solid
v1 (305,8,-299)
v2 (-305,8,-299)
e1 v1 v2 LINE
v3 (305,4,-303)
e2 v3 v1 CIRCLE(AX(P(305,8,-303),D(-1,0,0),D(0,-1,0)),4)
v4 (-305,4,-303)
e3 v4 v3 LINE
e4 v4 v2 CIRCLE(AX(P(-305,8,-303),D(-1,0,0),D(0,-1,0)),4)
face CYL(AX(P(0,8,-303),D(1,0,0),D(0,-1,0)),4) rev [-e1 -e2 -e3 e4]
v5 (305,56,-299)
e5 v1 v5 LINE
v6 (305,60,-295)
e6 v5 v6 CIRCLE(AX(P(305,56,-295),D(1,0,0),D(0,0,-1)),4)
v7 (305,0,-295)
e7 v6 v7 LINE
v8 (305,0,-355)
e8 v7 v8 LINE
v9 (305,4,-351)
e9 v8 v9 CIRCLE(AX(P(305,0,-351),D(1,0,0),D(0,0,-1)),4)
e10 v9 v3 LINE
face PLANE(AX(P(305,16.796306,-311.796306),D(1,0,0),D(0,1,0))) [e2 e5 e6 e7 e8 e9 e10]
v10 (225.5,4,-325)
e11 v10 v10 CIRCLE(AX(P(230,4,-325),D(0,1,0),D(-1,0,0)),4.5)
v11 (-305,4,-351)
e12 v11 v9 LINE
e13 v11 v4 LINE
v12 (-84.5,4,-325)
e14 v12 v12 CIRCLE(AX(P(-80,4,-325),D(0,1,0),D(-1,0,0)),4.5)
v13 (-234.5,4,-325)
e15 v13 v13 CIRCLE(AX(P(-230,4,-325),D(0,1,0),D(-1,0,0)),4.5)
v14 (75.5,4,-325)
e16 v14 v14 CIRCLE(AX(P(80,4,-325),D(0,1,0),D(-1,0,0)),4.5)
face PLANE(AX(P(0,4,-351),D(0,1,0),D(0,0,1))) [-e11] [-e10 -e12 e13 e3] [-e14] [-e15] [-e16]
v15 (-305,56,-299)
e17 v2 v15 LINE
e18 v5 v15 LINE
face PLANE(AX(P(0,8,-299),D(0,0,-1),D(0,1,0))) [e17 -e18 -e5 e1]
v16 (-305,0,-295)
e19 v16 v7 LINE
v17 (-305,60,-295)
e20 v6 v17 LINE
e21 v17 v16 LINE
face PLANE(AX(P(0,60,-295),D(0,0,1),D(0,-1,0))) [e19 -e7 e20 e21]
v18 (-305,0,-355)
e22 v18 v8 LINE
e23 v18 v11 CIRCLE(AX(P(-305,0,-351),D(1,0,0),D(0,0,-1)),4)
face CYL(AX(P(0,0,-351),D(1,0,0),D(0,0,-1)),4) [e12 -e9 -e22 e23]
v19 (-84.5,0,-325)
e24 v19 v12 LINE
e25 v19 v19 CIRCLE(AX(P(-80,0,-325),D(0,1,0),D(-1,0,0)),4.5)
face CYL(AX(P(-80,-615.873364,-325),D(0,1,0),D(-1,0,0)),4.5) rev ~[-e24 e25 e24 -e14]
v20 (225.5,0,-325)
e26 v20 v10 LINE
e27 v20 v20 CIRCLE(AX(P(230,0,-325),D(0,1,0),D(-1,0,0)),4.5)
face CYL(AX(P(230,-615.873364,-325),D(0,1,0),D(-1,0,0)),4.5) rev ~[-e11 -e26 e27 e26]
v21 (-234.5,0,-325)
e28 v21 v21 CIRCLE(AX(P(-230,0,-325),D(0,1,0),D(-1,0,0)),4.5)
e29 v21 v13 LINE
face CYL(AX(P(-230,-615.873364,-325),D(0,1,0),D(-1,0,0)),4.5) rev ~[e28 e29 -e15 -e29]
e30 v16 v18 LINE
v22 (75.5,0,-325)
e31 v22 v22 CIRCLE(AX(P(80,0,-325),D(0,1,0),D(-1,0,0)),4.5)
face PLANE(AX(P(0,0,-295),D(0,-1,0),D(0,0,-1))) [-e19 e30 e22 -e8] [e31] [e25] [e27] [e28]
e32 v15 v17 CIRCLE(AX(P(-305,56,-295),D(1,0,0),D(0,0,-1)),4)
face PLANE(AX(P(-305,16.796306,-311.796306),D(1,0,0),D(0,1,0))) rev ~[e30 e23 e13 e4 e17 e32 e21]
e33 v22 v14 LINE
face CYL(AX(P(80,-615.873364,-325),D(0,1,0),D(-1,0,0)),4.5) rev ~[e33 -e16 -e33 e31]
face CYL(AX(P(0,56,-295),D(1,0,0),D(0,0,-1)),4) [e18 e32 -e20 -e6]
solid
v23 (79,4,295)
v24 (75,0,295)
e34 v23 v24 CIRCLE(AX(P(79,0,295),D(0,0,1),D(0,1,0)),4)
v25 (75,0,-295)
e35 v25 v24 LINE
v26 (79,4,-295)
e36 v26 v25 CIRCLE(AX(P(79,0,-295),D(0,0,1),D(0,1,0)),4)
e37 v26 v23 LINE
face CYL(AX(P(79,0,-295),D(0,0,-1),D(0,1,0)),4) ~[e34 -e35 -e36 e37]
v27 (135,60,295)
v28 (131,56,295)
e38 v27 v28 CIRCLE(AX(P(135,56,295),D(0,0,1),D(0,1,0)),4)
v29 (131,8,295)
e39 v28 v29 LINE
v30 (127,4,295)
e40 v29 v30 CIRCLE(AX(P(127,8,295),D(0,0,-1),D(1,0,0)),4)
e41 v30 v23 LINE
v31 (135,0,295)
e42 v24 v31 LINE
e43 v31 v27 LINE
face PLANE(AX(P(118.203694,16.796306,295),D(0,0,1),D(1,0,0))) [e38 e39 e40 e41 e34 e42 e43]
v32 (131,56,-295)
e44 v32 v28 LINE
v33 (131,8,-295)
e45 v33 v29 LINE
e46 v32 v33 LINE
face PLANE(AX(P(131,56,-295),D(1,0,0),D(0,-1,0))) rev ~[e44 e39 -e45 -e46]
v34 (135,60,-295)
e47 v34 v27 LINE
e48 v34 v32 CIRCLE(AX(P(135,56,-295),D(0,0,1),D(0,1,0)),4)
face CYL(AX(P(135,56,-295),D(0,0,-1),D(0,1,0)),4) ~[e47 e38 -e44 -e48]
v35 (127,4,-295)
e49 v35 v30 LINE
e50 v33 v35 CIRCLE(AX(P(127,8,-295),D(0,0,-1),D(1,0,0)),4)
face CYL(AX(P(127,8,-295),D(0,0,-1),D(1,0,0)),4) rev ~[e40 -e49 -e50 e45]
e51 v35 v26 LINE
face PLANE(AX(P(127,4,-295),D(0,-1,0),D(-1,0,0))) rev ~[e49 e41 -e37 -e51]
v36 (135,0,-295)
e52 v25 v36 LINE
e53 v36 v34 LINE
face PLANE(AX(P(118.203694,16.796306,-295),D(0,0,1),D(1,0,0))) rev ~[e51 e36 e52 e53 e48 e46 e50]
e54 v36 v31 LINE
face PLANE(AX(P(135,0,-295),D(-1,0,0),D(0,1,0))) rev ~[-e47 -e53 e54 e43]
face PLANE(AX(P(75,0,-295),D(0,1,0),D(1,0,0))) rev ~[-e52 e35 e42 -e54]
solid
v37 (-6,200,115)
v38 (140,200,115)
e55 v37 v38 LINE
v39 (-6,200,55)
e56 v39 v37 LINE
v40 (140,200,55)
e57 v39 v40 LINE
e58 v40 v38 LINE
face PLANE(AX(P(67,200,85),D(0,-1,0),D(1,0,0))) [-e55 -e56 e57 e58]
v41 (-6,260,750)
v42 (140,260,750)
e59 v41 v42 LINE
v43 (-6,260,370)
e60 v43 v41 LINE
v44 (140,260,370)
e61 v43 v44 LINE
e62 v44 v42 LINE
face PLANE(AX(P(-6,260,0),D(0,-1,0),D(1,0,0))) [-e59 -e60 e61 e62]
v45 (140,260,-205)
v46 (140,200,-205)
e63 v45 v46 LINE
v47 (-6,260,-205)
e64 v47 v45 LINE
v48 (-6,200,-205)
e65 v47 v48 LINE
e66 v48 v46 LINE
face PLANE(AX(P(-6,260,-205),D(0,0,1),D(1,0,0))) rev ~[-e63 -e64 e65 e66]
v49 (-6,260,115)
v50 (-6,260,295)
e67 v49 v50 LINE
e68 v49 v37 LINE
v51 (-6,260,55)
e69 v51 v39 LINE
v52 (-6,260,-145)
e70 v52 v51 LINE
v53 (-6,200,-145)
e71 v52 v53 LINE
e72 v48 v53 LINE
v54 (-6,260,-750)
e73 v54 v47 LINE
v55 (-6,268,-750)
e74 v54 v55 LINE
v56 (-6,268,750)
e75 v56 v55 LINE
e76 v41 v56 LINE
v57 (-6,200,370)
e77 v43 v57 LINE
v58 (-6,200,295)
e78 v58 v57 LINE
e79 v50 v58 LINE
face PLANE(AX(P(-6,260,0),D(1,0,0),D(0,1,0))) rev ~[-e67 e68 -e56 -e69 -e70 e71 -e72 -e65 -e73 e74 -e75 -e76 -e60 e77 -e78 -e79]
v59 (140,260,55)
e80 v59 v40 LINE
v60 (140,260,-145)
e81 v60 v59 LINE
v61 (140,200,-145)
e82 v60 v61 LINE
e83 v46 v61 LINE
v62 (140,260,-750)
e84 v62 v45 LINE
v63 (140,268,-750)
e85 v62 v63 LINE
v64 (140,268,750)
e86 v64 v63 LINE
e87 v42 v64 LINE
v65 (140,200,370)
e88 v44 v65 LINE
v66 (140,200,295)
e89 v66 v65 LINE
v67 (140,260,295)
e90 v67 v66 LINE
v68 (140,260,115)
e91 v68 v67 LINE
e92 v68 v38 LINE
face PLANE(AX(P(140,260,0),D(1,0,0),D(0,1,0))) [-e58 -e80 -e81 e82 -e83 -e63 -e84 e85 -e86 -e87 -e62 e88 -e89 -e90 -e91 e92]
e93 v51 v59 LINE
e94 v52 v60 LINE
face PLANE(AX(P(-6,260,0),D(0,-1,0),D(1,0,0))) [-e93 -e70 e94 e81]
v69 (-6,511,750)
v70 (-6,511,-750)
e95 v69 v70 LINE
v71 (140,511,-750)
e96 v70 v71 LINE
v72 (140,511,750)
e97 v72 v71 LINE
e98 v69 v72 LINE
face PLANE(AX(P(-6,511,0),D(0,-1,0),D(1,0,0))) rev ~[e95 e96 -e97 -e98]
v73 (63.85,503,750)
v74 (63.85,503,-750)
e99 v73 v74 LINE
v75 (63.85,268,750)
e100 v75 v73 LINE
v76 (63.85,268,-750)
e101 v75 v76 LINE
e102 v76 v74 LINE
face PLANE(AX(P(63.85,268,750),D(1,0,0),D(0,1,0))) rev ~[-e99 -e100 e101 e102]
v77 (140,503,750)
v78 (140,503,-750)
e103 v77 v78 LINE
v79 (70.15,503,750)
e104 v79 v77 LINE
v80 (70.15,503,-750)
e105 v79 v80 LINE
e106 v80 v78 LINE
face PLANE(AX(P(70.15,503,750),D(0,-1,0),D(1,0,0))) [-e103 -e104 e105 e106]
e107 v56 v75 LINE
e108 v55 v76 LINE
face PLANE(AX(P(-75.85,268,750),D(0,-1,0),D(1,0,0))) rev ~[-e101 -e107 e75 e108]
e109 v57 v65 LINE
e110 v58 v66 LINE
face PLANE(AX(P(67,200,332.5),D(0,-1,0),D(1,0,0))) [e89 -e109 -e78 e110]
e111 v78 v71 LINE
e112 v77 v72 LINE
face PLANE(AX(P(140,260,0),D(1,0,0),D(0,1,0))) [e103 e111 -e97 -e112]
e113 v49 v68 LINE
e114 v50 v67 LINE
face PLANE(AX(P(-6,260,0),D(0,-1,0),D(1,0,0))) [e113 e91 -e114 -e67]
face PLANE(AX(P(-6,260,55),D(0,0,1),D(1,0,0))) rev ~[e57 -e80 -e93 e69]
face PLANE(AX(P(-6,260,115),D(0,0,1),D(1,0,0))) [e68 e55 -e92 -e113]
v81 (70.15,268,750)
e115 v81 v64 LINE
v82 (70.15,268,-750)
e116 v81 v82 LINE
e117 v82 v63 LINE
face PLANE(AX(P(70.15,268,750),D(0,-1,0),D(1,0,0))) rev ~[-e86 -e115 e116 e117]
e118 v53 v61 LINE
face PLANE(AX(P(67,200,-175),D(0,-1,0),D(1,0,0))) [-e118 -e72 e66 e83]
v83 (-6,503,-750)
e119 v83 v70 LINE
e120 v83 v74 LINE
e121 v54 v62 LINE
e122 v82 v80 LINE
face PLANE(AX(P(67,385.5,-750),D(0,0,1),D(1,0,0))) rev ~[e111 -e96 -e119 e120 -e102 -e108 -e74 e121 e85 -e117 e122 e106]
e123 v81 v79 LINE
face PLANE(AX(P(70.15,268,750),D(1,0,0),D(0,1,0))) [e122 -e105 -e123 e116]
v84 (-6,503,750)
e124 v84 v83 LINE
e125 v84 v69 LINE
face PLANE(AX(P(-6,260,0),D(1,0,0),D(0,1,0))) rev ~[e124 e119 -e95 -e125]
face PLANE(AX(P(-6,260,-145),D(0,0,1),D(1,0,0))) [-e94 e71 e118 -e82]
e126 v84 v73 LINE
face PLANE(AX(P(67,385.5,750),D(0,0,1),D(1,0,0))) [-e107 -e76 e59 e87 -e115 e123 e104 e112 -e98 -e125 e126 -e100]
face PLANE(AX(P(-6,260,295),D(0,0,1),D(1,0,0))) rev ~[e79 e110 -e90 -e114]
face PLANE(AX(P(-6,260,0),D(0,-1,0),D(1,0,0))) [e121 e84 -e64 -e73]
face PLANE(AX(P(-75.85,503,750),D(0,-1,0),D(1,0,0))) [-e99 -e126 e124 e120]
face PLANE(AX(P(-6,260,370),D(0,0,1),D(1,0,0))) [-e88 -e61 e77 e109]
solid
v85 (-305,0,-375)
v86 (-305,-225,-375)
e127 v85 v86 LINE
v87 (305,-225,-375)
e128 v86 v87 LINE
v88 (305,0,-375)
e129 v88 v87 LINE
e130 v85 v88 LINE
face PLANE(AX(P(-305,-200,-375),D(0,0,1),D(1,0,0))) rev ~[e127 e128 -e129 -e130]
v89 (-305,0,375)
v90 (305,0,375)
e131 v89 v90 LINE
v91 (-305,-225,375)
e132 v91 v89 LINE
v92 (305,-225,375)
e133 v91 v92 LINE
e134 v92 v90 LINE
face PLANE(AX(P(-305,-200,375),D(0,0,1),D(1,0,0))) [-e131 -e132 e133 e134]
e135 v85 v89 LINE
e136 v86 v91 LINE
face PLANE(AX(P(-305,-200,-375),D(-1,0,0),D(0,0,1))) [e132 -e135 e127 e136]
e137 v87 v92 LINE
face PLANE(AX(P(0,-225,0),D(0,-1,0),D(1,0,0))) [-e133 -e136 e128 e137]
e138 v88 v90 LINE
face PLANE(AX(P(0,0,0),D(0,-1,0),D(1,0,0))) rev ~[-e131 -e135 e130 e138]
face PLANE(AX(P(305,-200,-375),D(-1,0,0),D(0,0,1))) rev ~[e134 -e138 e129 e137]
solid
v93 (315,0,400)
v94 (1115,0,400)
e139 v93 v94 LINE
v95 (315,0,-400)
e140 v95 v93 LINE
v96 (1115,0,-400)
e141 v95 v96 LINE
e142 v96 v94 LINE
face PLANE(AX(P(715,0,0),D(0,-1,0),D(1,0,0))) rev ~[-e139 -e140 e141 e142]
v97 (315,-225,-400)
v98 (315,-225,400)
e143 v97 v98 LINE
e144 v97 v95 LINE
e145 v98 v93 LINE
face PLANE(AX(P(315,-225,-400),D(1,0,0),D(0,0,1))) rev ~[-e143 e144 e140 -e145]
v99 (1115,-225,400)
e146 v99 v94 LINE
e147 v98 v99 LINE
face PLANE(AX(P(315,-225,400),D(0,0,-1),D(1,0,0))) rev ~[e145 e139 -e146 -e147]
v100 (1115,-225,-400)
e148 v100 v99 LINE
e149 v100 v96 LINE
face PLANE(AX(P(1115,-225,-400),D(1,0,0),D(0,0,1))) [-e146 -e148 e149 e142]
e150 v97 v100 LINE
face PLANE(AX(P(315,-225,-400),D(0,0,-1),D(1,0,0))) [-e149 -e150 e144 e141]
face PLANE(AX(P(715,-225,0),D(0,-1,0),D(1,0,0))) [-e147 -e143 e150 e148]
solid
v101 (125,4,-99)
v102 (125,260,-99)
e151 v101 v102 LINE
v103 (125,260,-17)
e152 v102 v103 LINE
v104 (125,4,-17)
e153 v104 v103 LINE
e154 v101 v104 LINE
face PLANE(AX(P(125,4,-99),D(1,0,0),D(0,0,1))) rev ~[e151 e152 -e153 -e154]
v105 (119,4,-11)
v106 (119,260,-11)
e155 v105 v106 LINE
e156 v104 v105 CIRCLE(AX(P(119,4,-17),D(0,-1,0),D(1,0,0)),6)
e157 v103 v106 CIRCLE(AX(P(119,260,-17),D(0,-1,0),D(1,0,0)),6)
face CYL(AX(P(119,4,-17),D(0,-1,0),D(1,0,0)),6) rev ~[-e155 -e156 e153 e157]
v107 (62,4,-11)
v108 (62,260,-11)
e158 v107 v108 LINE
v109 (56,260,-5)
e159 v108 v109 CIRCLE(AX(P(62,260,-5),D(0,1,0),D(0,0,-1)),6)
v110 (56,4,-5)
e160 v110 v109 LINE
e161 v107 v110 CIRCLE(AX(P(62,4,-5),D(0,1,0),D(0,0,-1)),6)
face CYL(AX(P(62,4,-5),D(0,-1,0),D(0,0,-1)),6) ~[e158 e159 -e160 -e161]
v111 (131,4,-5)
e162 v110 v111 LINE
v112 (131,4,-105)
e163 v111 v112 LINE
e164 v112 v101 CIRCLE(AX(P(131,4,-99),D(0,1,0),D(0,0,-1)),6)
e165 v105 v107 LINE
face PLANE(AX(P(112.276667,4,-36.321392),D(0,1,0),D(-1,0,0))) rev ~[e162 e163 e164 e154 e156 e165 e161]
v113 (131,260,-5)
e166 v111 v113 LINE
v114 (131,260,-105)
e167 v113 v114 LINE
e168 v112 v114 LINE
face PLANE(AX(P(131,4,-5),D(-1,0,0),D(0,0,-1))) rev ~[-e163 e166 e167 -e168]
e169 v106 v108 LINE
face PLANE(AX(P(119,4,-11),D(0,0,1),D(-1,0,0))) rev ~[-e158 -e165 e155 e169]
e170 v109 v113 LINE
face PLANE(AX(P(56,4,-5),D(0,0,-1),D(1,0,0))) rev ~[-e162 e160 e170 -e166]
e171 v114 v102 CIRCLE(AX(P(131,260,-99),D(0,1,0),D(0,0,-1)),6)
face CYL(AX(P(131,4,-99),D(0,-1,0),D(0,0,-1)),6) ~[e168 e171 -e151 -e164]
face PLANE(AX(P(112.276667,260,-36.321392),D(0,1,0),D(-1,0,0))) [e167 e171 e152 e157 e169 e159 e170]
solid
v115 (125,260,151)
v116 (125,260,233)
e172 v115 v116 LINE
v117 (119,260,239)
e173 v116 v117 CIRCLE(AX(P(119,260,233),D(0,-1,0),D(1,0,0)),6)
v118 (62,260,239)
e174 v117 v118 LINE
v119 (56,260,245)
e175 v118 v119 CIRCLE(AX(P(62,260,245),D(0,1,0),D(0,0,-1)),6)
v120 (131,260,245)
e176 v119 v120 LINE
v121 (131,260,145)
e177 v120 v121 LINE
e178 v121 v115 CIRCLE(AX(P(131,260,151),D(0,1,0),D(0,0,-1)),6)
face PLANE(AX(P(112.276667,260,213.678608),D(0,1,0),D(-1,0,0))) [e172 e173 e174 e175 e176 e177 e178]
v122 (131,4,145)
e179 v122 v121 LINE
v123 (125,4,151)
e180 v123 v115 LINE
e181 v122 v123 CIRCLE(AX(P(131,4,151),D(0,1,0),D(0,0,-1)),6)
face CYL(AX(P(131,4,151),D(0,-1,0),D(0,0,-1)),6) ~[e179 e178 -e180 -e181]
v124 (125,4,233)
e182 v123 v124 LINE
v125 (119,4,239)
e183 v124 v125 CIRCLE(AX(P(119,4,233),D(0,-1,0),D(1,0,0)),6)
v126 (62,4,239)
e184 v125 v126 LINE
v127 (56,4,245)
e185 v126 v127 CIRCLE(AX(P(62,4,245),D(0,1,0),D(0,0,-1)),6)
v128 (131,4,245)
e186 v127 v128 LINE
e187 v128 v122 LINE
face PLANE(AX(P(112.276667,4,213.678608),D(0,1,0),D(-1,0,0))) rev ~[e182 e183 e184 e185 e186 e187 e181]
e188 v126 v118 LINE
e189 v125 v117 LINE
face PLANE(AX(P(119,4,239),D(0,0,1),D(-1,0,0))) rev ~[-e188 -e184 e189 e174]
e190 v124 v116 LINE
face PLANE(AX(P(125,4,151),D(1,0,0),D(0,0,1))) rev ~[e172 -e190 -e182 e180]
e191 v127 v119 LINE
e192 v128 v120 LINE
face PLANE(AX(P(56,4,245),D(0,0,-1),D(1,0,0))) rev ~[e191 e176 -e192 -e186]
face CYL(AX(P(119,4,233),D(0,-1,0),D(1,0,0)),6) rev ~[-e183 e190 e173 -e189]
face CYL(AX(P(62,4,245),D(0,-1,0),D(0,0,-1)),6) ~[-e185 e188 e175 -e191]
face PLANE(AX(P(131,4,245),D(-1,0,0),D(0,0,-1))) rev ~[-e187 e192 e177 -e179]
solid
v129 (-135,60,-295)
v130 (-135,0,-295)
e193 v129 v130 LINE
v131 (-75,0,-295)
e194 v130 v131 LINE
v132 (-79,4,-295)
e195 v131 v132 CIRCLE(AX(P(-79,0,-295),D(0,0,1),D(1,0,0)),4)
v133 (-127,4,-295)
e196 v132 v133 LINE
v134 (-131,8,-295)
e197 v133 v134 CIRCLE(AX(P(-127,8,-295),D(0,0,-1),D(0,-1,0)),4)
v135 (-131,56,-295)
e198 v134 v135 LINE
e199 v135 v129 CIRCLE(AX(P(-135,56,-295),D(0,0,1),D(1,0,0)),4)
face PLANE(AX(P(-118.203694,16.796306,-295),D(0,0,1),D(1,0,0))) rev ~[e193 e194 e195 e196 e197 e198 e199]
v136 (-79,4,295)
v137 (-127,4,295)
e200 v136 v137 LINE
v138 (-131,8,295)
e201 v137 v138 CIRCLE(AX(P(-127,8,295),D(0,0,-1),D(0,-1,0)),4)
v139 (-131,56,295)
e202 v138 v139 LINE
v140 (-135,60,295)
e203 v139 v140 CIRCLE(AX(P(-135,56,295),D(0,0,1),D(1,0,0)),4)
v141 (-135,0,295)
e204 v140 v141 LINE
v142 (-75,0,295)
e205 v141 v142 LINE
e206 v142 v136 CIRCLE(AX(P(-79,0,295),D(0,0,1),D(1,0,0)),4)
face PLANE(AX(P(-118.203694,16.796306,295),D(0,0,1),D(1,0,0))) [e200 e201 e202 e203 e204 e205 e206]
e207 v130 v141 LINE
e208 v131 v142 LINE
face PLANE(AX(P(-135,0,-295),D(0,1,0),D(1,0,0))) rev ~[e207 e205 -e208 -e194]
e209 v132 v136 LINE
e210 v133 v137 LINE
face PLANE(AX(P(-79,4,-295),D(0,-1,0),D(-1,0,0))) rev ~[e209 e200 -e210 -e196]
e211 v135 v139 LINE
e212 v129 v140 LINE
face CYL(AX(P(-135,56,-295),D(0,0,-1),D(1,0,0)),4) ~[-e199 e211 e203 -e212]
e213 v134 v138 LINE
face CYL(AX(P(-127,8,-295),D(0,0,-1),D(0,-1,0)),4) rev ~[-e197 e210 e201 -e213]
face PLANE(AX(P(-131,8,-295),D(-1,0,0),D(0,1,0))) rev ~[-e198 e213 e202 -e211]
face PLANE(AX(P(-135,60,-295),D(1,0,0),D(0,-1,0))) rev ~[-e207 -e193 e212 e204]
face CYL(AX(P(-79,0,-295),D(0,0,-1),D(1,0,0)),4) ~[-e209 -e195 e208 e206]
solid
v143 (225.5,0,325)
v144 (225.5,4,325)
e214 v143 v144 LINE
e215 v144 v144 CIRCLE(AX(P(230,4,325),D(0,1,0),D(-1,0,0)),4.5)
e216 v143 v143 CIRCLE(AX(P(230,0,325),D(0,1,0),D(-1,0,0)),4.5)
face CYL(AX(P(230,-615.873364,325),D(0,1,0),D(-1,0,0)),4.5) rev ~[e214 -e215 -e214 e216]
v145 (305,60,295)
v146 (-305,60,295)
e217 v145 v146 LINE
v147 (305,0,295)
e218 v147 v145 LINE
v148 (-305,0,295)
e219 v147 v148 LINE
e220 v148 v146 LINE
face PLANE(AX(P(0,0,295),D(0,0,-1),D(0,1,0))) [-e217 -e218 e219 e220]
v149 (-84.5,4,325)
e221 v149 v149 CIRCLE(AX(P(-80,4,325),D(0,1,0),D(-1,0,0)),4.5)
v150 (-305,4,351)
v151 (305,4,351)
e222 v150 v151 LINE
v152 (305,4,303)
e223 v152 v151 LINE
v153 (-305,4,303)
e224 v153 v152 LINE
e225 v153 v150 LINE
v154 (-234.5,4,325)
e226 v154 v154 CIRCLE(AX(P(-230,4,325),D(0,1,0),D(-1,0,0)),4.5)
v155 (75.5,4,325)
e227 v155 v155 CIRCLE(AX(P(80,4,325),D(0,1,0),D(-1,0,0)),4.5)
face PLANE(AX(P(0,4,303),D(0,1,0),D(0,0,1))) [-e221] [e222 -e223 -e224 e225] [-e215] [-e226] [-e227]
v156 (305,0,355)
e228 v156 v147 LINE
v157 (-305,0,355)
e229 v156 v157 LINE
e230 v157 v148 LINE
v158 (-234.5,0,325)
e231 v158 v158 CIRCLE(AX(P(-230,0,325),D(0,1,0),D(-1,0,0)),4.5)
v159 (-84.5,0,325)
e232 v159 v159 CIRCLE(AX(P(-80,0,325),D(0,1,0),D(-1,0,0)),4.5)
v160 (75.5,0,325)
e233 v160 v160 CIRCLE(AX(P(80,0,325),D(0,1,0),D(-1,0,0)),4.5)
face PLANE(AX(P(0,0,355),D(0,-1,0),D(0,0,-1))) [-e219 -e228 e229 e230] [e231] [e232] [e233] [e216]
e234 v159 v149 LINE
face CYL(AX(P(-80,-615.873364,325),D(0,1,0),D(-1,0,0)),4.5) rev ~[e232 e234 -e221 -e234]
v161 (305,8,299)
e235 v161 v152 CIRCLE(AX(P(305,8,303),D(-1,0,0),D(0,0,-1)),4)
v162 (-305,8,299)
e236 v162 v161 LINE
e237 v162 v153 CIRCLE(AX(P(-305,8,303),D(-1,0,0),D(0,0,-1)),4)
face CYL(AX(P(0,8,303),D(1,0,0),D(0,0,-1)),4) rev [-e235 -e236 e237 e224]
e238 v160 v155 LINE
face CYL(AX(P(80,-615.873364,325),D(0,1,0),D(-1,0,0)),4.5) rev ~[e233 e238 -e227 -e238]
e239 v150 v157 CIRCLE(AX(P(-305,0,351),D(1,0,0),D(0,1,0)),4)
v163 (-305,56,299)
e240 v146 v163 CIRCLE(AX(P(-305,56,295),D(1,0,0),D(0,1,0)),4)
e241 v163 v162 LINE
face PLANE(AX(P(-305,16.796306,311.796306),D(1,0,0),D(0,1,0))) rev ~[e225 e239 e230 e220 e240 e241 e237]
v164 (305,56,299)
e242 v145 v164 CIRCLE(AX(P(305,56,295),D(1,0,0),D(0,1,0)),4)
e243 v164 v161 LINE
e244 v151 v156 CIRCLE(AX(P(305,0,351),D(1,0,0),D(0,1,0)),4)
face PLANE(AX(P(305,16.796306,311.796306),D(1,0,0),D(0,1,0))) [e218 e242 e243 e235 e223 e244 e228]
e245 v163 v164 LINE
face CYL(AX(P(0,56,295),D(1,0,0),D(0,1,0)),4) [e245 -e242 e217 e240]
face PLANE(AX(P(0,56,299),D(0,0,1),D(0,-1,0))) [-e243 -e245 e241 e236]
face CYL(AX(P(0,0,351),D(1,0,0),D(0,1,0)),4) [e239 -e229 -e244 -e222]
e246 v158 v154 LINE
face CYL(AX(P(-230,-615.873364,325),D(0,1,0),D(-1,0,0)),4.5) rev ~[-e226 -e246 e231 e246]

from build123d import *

# Parameters (mm, degrees)
F1_DEPTH  = 305
F3_DEPTH  = 590
F5_D      = 9
F5_2_D    = 9
F6_W      = 610
F6_H      = 750
F7_DEPTH  = 200
F8_DEPTH  = 25
F9_W      = 800
F9_H      = 800
F10_DEPTH = 225
F11_W     = 146
F11_H     = 251
F12_DEPTH = 750
F13_W     = 139.7
F13_H     = 235
F14_DEPTH = 1500.001
F15_W     = 146
F15_H     = 75
F15_H_2   = 60
F16_DEPTH = 60
F18_DEPTH = 256


with BuildPart() as f1:
    # F0 (on Right) → F1 (new body, symmetric)
    with BuildSketch(Plane.YZ):
        with BuildLine():
            Line((60, -295), (0, -295))
            Line((0, -295), (0, -355))
            ThreePointArc((0, -355), (2.8284271247, -353.8284271247), (4, -351))
            Line((4, -351), (4, -303))
            ThreePointArc((4, -303), (5.1715728753, -300.1715728753), (8, -299))
            Line((8, -299), (56, -299))
            ThreePointArc((56, -299), (58.8284271247, -297.8284271247), (60, -295))
        make_face()
    extrude(amount=F1_DEPTH, both=True)

    # F5 (through all)
    with Locations(Plane.XZ):
        with Locations((-230, 325), (-80, 325), (80, 325), (230, 325), (-80, -325), (80, -325), (-230, -325), (230, -325)):
            Hole(F5_D / 2)


with BuildPart() as f1b:
    # F0 (on Right) → F1, piece 2 (new body, symmetric)
    with BuildSketch(Plane.YZ):
        with BuildLine():
            ThreePointArc((60, 295), (58.8284271247, 297.8284271247), (56, 299))
            Line((56, 299), (8, 299))
            ThreePointArc((8, 299), (5.1715728753, 300.1715728753), (4, 303))
            Line((4, 303), (4, 351))
            ThreePointArc((4, 351), (2.8284271247, 353.8284271247), (0, 355))
            Line((0, 355), (0, 295))
            Line((0, 295), (60, 295))
        make_face()
    extrude(amount=F1_DEPTH, both=True)

    # F5#2 (through all)
    with Locations(Plane.XZ):
        with Locations((-230, 325), (-80, 325), (80, 325), (230, 325), (-80, -325), (80, -325), (-230, -325), (230, -325)):
            Hole(F5_2_D / 2)


with BuildPart() as f3:
    # F2 (on face) → F3 (new body, through all)
    with BuildSketch(Plane.XY.offset(-295)):
        with BuildLine():
            ThreePointArc((135, 60), (132.1715728753, 58.8284271247), (131, 56))
            Line((131, 56), (131, 8))
            ThreePointArc((131, 8), (129.8284271247, 5.1715728753), (127, 4))
            Line((127, 4), (79, 4))
            ThreePointArc((79, 4), (76.1715728753, 2.8284271247), (75, 0))
            Line((75, 0), (135, 0))
            Line((135, 0), (135, 60))
        make_face()
    extrude(amount=F3_DEPTH)


with BuildPart() as f3b:
    # F2 (on face) → F3, piece 2 (new body, through all)
    with BuildSketch(Plane.XY.offset(-295)):
        with BuildLine():
            Line((-135, 0), (-75, 0))
            ThreePointArc((-75, 0), (-76.1715728753, 2.8284271247), (-79, 4))
            Line((-79, 4), (-127, 4))
            ThreePointArc((-127, 4), (-129.8284271247, 5.1715728753), (-131, 8))
            Line((-131, 8), (-131, 56))
            ThreePointArc((-131, 56), (-132.1715728753, 58.8284271247), (-135, 60))
            Line((-135, 60), (-135, 0))
        make_face()
    extrude(amount=F3_DEPTH)


with BuildPart() as f7:
    # F6 (on face) → F7 (new body)
    with BuildSketch(Plane.XZ):
        Rectangle(F6_W, F6_H)
    extrude(amount=F7_DEPTH)

    # F8 (add): a face of the model
    f8_faces = [f7.faces().sort_by_distance(p)[0] for p in [
        (0, -200, 0),
    ]]
    extrude(f8_faces, amount=F8_DEPTH)


with BuildPart() as f10:
    # F9 (on face) → F10 (new body, through all)
    with BuildSketch(Plane.XZ.offset(225)):
        with Locations((715, 0)):
            Rectangle(F9_W, F9_H)
    extrude(amount=-F10_DEPTH)


with BuildPart() as f12:
    # F11 (on Top) → F12 (new body, symmetric)
    with BuildSketch(Plane.XY):
        with Locations((67, 385.5)):
            Rectangle(F11_W, F11_H)
    extrude(amount=F12_DEPTH, both=True)

    # F13 (on face) → F14 (cut, through all)
    with BuildSketch(Plane.XY.offset(750)):
        with Locations((140, 385.5)):
            Rectangle(F13_W, F13_H)
        with Locations((-6, 385.5)):
            Rectangle(F13_W, F13_H)
    extrude(amount=-F14_DEPTH, mode=Mode.SUBTRACT)

    # F15 (on face) → F16 (join)
    with BuildSketch(Plane.XZ.offset(-260)):
        with Locations((67, 332.5)):
            Rectangle(F15_W, F15_H)
        with Locations((67, 85)):
            Rectangle(F15_W, F15_H_2)
        with Locations((67, -175)):
            Rectangle(F15_W, F15_H_2)
    extrude(amount=F16_DEPTH)


with BuildPart() as f18:
    # F17 (on face) → F18 (new body, through all)
    with BuildSketch(Plane(origin=(0, 4, 0), x_dir=(-1, 0, 0), z_dir=(0, 1, 0))):
        with BuildLine():
            Line((-131, 245), (-131, 145))
            ThreePointArc((-131, 145), (-126.7573593129, 146.7573593129), (-125, 151))
            Line((-125, 151), (-125, 233))
            ThreePointArc((-125, 233), (-123.2426406871, 237.2426406871), (-119, 239))
            Line((-119, 239), (-62, 239))
            ThreePointArc((-62, 239), (-57.7573593129, 240.7573593129), (-56, 245))
            Line((-56, 245), (-131, 245))
        make_face()
    extrude(amount=F18_DEPTH)


with BuildPart() as f18b:
    # F17 (on face) → F18, piece 2 (new body, through all)
    with BuildSketch(Plane(origin=(0, 4, 0), x_dir=(-1, 0, 0), z_dir=(0, 1, 0))):
        with BuildLine():
            Line((-125, -99), (-125, -17))
            ThreePointArc((-125, -17), (-123.2426406871, -12.7573593129), (-119, -11))
            Line((-119, -11), (-62, -11))
            ThreePointArc((-62, -11), (-57.7573593129, -9.2426406871), (-56, -5))
            Line((-56, -5), (-131, -5))
            Line((-131, -5), (-131, -105))
            ThreePointArc((-131, -105), (-126.7573593129, -103.2426406871), (-125, -99))
        make_face()
    extrude(amount=F18_DEPTH)


solid = Compound([f1.part, f1b.part, f3.part, f3b.part, f7.part, f10.part, f12.part, f18.part, f18b.part])
